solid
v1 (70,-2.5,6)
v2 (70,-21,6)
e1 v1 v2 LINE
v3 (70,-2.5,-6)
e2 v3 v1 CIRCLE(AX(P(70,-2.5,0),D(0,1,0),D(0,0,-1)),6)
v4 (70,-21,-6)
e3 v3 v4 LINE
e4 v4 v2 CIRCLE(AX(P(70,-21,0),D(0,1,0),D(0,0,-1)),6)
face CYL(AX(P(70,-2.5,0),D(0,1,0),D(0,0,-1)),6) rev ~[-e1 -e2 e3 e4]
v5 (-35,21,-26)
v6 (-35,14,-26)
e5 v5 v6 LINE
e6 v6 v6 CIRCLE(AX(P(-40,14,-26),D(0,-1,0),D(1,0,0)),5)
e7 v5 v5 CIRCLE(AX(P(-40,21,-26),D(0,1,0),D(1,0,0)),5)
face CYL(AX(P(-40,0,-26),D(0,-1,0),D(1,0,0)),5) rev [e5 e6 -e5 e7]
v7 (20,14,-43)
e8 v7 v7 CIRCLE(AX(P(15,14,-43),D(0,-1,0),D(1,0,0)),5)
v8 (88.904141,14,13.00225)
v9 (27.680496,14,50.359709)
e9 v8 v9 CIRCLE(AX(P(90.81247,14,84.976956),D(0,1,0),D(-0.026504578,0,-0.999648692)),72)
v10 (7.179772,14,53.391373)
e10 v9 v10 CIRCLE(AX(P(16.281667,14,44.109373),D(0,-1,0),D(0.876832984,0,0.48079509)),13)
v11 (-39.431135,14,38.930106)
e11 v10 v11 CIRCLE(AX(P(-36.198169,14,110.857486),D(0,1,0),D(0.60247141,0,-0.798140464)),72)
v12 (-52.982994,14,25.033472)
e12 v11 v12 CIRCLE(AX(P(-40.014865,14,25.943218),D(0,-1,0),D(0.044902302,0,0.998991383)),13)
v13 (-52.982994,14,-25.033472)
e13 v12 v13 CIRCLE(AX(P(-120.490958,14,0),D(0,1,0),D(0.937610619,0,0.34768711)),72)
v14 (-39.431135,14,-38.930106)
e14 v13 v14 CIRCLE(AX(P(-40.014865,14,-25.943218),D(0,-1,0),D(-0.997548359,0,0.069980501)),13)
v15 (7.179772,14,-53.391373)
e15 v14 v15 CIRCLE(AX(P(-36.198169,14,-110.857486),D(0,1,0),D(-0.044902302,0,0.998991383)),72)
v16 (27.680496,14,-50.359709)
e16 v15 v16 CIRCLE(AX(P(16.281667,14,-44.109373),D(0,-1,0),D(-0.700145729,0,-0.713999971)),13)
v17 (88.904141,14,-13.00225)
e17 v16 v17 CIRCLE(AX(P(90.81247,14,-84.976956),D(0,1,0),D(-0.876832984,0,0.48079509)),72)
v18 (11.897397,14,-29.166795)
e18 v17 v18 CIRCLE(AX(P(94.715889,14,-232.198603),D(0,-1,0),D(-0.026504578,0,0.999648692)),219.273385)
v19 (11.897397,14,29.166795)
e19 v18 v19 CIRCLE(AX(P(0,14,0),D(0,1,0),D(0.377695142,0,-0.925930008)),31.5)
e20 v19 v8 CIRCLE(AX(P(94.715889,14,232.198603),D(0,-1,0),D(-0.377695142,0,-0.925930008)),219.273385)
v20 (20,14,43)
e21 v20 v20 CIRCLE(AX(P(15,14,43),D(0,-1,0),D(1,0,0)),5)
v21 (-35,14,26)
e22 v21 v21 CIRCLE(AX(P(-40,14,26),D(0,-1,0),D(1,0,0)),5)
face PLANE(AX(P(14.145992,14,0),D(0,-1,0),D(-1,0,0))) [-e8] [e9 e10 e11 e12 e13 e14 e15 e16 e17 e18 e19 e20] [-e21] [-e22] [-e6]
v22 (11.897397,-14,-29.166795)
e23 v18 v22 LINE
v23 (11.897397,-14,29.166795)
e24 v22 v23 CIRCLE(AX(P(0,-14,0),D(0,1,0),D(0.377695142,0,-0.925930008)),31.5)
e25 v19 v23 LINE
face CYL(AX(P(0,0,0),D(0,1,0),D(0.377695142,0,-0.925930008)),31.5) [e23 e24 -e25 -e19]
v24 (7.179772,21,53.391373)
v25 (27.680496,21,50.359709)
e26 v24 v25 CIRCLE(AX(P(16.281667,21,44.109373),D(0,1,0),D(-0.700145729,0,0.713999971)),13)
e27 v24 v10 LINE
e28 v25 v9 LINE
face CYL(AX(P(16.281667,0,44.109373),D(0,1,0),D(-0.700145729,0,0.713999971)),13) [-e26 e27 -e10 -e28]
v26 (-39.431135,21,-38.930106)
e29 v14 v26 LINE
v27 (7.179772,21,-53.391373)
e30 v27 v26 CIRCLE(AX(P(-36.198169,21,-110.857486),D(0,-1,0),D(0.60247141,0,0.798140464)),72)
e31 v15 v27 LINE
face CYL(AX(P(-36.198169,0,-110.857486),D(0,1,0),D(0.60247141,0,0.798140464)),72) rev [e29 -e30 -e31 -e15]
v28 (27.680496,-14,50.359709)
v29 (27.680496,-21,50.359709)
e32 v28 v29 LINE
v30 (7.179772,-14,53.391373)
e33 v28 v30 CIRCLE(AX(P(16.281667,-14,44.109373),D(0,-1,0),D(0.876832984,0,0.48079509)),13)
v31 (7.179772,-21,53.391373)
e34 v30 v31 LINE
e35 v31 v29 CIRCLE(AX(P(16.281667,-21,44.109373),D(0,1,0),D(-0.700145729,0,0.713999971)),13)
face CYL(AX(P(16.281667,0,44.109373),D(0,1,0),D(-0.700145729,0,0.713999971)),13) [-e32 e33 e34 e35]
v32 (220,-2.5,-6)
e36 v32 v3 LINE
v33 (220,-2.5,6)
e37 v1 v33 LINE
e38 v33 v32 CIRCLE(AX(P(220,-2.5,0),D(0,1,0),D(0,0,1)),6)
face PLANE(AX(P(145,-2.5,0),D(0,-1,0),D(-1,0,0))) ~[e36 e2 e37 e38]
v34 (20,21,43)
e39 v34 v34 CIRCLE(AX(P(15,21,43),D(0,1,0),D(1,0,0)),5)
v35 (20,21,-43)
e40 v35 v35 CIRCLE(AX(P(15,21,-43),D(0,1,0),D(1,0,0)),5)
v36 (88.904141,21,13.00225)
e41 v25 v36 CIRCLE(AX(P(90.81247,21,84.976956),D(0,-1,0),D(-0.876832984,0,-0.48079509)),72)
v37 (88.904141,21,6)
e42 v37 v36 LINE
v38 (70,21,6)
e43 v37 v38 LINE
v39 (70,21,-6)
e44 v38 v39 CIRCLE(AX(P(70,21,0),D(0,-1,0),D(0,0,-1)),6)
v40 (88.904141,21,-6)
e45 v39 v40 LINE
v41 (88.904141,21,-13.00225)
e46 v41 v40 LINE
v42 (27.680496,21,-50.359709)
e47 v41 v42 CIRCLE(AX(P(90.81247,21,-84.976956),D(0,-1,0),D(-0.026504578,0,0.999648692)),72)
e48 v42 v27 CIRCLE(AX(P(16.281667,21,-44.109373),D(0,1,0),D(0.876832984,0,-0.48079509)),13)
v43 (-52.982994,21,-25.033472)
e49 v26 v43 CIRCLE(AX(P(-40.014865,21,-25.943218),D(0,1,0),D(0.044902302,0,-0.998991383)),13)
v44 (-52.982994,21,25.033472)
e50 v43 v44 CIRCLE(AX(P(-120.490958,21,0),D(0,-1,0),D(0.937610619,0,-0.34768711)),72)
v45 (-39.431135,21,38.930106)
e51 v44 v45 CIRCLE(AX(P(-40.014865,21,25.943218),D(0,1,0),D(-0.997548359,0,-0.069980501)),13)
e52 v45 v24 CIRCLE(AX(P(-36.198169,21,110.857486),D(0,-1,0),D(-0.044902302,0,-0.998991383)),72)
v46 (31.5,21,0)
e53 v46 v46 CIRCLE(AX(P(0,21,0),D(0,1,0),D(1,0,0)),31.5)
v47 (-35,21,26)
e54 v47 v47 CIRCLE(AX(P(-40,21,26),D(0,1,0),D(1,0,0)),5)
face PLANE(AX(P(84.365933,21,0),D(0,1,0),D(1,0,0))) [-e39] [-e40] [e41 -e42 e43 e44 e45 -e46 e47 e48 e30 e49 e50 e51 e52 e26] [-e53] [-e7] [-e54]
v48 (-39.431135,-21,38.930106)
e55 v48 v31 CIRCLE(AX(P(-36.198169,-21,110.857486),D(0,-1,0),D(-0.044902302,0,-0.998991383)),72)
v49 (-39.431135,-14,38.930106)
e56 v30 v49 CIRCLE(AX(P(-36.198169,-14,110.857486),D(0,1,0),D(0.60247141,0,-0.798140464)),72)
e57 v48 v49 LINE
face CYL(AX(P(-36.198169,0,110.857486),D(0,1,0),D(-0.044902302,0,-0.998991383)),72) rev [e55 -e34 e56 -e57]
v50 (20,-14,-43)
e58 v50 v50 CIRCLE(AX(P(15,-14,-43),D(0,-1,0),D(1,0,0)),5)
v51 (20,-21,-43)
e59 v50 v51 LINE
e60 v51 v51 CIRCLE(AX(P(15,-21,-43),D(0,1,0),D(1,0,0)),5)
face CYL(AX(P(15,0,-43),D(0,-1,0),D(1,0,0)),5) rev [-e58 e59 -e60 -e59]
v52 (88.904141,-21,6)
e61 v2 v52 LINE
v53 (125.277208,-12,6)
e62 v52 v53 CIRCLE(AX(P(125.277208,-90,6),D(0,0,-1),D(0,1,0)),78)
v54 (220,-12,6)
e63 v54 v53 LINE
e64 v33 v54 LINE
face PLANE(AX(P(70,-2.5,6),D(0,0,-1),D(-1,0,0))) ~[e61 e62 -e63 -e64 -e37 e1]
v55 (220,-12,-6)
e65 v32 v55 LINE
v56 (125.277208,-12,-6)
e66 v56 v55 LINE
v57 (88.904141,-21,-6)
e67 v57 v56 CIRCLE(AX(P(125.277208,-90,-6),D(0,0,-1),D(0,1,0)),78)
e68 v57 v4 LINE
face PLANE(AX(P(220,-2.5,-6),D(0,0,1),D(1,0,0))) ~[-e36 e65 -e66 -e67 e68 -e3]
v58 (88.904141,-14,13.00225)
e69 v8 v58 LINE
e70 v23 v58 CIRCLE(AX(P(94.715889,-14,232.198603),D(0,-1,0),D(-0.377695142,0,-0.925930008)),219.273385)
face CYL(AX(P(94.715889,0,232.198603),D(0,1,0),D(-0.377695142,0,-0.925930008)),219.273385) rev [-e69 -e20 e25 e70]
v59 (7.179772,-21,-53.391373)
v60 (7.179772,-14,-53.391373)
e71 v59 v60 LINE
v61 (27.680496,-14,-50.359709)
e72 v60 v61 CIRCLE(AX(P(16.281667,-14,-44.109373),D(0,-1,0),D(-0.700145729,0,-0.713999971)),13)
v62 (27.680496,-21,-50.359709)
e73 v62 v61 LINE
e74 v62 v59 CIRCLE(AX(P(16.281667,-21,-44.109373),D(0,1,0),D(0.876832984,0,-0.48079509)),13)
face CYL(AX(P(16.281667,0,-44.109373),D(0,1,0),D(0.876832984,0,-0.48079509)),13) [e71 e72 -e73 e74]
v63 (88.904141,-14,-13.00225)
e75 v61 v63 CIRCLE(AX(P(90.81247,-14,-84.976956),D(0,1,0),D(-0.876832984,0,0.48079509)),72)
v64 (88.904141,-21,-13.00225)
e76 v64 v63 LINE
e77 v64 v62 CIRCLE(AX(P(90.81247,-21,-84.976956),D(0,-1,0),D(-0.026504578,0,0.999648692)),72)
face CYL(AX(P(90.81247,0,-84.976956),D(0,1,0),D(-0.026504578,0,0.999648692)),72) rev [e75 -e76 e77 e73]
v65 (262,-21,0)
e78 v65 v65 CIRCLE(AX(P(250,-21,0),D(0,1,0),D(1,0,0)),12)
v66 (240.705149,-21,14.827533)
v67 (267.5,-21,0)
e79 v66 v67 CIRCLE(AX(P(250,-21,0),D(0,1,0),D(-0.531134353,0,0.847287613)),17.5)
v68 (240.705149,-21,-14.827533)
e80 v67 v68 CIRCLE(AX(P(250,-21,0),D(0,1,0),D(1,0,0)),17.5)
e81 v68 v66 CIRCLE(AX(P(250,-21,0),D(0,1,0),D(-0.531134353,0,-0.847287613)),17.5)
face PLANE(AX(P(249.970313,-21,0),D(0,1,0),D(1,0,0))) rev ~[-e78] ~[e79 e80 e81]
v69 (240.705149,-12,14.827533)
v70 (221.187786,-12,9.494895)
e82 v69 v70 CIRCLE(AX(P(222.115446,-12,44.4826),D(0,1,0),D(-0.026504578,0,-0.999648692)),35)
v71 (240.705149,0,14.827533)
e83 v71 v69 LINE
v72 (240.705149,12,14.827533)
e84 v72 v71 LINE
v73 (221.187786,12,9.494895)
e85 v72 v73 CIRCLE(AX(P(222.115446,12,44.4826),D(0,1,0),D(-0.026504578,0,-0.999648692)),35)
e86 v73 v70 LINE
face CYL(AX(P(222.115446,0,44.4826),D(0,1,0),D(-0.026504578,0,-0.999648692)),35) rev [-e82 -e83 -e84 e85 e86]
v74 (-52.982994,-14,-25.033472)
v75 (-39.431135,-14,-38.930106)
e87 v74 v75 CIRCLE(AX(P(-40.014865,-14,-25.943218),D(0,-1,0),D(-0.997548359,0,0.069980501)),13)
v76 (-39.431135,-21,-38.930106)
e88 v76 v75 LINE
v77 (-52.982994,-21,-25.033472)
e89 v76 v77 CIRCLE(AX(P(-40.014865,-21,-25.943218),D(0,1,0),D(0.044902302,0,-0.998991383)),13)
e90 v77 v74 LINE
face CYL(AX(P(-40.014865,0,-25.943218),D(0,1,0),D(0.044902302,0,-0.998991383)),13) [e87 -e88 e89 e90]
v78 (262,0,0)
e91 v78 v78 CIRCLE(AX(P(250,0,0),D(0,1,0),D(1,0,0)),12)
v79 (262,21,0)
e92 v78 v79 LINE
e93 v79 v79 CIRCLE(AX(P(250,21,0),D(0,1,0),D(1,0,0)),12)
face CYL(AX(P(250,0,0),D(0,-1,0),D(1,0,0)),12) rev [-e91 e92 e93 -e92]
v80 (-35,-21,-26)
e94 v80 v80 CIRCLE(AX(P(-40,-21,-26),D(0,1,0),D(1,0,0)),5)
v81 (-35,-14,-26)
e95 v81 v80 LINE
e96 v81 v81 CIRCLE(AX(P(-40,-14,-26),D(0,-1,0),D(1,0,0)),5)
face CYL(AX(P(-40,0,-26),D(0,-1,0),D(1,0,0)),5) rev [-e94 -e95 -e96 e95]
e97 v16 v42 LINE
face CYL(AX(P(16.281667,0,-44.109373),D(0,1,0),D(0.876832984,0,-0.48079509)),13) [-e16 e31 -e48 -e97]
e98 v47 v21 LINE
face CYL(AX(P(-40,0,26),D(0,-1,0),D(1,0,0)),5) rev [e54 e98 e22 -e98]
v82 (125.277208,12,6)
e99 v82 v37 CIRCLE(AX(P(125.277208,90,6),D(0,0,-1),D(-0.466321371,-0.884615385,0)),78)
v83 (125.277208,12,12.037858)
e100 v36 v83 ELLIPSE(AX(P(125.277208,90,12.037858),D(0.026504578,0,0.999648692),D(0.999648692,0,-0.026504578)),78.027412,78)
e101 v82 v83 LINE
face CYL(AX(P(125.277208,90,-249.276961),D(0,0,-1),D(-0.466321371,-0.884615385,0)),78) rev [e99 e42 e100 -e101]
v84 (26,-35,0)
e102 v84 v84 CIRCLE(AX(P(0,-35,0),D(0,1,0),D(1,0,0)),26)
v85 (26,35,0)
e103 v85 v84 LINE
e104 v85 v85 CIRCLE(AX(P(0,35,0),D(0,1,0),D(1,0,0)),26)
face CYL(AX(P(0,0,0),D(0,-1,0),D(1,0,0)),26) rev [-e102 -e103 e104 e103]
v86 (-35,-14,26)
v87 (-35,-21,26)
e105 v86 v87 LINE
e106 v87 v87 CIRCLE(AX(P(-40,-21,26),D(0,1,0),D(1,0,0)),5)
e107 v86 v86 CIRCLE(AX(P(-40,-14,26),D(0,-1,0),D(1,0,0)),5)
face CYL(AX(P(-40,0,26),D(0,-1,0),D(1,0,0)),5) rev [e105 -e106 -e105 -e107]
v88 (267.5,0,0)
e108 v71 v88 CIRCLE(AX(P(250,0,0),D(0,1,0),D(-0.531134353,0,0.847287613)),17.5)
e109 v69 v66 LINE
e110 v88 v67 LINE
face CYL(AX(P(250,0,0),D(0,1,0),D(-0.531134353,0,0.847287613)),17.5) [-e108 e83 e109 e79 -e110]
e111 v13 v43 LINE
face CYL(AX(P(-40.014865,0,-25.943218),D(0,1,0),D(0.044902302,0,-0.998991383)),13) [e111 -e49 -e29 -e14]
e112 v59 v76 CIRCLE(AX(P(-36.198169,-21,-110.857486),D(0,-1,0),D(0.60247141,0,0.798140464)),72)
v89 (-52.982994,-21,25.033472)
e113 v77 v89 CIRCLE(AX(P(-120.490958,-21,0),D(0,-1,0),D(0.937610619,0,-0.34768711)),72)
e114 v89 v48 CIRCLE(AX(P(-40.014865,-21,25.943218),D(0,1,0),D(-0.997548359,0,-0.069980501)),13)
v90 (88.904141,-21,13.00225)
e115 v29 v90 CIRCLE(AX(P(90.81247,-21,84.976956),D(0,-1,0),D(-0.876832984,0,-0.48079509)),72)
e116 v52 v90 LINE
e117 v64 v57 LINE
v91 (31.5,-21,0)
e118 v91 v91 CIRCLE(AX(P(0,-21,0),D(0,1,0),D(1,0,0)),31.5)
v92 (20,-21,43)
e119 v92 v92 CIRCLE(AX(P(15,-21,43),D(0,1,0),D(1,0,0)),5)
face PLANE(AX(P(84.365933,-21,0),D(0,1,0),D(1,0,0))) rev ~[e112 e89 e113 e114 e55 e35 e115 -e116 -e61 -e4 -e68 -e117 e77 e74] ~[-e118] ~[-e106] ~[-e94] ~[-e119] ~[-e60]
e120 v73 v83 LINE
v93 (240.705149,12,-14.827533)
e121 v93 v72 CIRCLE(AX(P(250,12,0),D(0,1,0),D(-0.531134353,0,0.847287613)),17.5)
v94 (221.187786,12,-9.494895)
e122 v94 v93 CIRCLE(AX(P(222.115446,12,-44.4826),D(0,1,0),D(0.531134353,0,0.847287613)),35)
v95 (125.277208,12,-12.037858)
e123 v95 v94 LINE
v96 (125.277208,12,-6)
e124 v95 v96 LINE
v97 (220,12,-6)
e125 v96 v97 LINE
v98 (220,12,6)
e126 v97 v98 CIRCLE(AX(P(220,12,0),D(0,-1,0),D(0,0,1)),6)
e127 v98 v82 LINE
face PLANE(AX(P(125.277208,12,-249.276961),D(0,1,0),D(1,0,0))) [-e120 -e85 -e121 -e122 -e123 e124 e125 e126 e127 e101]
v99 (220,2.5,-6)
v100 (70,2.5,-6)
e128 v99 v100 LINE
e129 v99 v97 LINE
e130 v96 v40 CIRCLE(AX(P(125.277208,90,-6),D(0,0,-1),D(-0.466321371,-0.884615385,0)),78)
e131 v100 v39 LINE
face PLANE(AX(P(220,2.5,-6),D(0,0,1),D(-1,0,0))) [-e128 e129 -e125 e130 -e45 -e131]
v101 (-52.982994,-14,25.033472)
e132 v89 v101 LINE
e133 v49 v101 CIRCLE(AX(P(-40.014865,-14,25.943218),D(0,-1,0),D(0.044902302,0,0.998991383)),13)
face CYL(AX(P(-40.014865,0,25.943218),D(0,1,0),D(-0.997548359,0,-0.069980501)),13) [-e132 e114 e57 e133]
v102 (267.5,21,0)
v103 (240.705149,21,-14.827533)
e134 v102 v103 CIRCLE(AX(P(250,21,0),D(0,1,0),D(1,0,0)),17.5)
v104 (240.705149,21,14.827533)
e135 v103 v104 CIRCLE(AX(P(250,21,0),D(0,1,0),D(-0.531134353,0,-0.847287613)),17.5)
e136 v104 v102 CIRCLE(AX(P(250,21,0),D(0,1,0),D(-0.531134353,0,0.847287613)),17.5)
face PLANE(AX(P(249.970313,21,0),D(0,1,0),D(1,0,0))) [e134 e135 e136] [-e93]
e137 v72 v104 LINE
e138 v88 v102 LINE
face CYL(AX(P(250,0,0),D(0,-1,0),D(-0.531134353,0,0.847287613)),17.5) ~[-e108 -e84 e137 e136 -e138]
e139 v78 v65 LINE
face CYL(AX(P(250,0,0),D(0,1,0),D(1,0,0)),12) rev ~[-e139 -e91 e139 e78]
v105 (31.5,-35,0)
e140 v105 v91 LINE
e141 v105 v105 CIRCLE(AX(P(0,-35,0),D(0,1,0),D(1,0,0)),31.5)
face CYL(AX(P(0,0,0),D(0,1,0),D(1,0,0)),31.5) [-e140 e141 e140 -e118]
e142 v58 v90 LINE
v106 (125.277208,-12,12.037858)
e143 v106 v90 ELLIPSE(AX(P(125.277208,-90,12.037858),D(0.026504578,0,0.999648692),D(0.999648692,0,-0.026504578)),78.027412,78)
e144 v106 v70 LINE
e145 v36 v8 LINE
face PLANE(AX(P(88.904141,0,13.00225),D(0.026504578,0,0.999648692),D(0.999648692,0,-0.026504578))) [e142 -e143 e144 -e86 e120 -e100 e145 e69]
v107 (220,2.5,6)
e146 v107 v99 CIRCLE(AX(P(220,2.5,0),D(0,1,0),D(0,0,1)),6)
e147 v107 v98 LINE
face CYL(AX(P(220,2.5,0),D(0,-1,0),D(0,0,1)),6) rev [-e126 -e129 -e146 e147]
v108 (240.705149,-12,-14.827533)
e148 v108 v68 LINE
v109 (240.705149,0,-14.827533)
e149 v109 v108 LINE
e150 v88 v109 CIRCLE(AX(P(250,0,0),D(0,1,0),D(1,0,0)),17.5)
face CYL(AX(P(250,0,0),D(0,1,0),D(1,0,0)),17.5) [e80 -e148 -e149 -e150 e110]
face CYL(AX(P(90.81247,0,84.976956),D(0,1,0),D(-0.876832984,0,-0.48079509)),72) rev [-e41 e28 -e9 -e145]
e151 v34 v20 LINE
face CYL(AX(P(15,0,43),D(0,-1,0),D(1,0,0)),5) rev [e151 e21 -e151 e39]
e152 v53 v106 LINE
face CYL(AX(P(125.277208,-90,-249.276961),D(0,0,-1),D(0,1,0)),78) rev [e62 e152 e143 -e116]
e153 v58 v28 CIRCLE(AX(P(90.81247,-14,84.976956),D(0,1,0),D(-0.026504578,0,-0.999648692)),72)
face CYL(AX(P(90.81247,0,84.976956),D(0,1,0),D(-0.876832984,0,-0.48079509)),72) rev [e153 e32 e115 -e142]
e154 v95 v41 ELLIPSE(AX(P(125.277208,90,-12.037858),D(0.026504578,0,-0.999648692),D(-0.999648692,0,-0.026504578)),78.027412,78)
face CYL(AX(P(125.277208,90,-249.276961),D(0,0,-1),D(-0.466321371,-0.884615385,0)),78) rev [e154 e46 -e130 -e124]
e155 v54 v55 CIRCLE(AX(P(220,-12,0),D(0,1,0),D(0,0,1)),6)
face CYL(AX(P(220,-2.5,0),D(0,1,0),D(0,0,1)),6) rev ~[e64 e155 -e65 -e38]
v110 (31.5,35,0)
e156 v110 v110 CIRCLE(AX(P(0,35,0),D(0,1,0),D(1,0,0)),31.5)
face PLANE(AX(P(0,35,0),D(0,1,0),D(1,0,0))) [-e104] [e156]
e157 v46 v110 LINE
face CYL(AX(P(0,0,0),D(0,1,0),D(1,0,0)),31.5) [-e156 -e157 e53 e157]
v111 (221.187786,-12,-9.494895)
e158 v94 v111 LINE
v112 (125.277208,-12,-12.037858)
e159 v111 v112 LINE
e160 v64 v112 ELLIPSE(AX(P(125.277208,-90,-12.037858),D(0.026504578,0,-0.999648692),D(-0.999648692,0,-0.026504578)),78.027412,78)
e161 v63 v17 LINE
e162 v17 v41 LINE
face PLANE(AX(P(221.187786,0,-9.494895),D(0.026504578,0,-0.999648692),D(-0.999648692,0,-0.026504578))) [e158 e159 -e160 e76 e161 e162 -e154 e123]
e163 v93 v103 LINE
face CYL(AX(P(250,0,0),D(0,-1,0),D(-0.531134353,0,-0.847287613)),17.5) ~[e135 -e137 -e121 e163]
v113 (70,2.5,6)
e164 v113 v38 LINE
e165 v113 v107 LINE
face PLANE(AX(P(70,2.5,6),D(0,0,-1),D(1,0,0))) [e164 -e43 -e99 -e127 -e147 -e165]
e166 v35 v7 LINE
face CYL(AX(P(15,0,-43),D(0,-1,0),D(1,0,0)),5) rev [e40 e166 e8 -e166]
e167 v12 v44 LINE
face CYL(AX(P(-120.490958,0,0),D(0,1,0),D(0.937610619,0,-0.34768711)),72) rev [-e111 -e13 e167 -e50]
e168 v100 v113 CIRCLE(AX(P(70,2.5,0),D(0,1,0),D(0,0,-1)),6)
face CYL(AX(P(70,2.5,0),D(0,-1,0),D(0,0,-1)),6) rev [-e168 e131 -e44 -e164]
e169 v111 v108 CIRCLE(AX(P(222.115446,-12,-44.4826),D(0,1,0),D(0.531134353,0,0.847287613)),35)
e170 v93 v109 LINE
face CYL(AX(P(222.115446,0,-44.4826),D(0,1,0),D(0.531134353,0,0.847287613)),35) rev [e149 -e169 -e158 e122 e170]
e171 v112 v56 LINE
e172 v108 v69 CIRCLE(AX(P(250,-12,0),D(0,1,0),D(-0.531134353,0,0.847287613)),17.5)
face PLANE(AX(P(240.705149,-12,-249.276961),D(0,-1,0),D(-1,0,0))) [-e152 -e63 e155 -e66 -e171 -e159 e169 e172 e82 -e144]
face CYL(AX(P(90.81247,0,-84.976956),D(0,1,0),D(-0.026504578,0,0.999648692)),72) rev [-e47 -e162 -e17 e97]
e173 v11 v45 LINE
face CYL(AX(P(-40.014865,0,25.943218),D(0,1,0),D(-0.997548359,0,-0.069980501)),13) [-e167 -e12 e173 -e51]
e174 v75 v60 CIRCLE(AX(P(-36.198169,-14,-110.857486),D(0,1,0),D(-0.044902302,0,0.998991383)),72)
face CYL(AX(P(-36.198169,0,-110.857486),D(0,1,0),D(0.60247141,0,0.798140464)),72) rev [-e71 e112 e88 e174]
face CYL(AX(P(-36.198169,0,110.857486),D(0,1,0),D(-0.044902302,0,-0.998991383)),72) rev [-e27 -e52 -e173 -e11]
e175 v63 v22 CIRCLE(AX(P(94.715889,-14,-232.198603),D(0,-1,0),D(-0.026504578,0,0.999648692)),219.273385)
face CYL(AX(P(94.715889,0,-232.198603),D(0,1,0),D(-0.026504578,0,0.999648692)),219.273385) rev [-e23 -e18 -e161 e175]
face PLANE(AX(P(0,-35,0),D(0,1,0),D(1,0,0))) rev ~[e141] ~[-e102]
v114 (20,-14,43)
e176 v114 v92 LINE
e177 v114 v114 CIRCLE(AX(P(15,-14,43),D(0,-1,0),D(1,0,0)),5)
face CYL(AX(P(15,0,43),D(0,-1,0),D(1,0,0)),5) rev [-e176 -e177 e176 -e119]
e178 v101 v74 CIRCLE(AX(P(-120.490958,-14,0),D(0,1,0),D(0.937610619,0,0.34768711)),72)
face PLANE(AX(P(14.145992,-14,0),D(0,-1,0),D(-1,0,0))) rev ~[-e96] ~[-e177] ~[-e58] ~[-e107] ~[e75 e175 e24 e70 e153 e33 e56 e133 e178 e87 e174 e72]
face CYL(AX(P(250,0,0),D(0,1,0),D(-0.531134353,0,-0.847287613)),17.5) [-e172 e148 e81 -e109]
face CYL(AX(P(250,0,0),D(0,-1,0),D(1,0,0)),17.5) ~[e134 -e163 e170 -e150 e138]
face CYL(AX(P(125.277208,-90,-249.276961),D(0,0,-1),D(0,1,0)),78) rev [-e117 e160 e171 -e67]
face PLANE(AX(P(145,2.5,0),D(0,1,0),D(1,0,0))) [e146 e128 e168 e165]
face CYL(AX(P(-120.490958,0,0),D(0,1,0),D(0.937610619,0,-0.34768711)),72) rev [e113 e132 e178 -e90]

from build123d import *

# Parameters (mm, degrees)
SKETCH1_R               = 5
SKETCH1_R_2             = 31.5
BOSS_EXTRUDE1_DEPTH     = 21
CUT_EXTRUDE1_DEPTH      = 249.276960573
CUT_EXTRUDE1_DEPTH_BACK = 249.276960573
SKETCH1_3_R             = 12
BOSS_EXTRUDE2_DEPTH     = 21
SKETCH1_4_R             = 31.5
SKETCH1_4_R_2           = 26
BOSS_EXTRUDE3_DEPTH     = 35
CUT_EXTRUDE2_START      = 2.5
CUT_EXTRUDE2_DEPTH      = 70
CUT_EXTRUDE3_DEPTH      = 14


with BuildPart() as part:
    # Sketch1 → Boss-Extrude1 (new, symmetric)
    with BuildSketch(Plane(origin=(0, 0, 0), x_dir=(1, 0, 0), z_dir=(0, 1, 0))):
        with BuildLine():
            Line((221.187786225, 9.494895459), (88.904140781, 13.002249852))
            ThreePointArc((88.904140781, 13.002249852), (53.309733953, 23.515221578), (27.680495601, 50.35970916))
            ThreePointArc((27.680495601, 50.35970916), (18.1834351, 56.969515961), (7.179772337, 53.391372602))
            ThreePointArc((7.179772337, 53.391372602), (-14.863061383, 42.091119402), (-39.431134928, 38.930106423))
            ThreePointArc((-39.431134928, 38.930106423), (-49.321982863, 35.019426592), (-52.982993526, 25.033471929))
            ThreePointArc((-52.982993526, 25.033471929), (-48.490958117, 0), (-52.982993526, -25.033471929))
            ThreePointArc((-52.982993526, -25.033471929), (-49.321982863, -35.019426592), (-39.431134928, -38.930106423))
            ThreePointArc((-39.431134928, -38.930106423), (-14.863061383, -42.091119402), (7.179772337, -53.391372602))
            ThreePointArc((7.179772337, -53.391372602), (18.1834351, -56.969515961), (27.680495601, -50.35970916))
            ThreePointArc((27.680495601, -50.35970916), (53.309733953, -23.515221578), (88.904140781, -13.002249852))
            Line((88.904140781, -13.002249852), (221.187786225, -9.494895459))
            ThreePointArc((221.187786225, -9.494895459), (231.340206045, -10.720138116), (240.705148821, -14.827533226))
            ThreePointArc((240.705148821, -14.827533226), (232.5, 0), (240.705148821, 14.827533226))
            ThreePointArc((240.705148821, 14.827533226), (231.340206045, 10.720138116), (221.187786225, 9.494895459))
        make_face()
        with Locations((15, -43)):
            Circle(SKETCH1_R, mode=Mode.SUBTRACT)
        with Locations((-40, -26)):
            Circle(SKETCH1_R, mode=Mode.SUBTRACT)
        Circle(SKETCH1_R_2, mode=Mode.SUBTRACT)
        with Locations((-40, 26)):
            Circle(SKETCH1_R, mode=Mode.SUBTRACT)
        with Locations((15, 43)):
            Circle(SKETCH1_R, mode=Mode.SUBTRACT)
    extrude(amount=BOSS_EXTRUDE1_DEPTH, both=True)

    # Sketch2 → Cut-Extrude1 (cut, two sides: drawn at the far end of the back side and taken through both)
    with BuildSketch(Plane.XY.offset(-CUT_EXTRUDE1_DEPTH_BACK)):
        with BuildLine():
            Line((240.705148821, 21), (221.187786225, 21))
            Line((221.187786225, 21), (88.904140781, 21))
            ThreePointArc((88.904140781, 21), (106.542213745, 14.283423215), (125.27720774, 12))
            Line((125.27720774, 12), (240.705148821, 12))
            Line((240.705148821, 12), (240.705148821, 21))
        make_face()
        with BuildLine():
            Line((240.705148821, -12), (125.27720774, -12))
            ThreePointArc((125.27720774, -12), (106.542213745, -14.283423215), (88.904140781, -21))
            Line((88.904140781, -21), (221.187786225, -21))
            Line((221.187786225, -21), (240.705148821, -21))
            Line((240.705148821, -21), (240.705148821, -12))
        make_face()
    extrude(amount=CUT_EXTRUDE1_DEPTH + CUT_EXTRUDE1_DEPTH_BACK, mode=Mode.SUBTRACT)

    # Sketch1<3> → Boss-Extrude2 (add, symmetric)
    with BuildSketch(Plane(origin=(0, 0, 0), x_dir=(1, 0, 0), z_dir=(0, 1, 0))):
        with BuildLine():
            ThreePointArc((267.5, 0), (258.473196102, 15.311921754), (240.705148821, 14.827533226))
            ThreePointArc((240.705148821, 14.827533226), (232.5, 0), (240.705148821, -14.827533226))
            ThreePointArc((240.705148821, -14.827533226), (258.473196102, -15.311921754), (267.5, 0))
        make_face()
        with Locations((250, 0)):
            Circle(SKETCH1_3_R, mode=Mode.SUBTRACT)
    extrude(amount=BOSS_EXTRUDE2_DEPTH, both=True)

    # Sketch1<4> → Boss-Extrude3 (add, symmetric)
    with BuildSketch(Plane(origin=(0, 0, 0), x_dir=(1, 0, 0), z_dir=(0, 1, 0))):
        Circle(SKETCH1_4_R)
        Circle(SKETCH1_4_R_2, mode=Mode.SUBTRACT)
    extrude(amount=BOSS_EXTRUDE3_DEPTH, both=True)

    # Sketch1<5> → Cut-Extrude2 (cut)
    with BuildSketch(Plane(origin=(0, 0, 0), x_dir=(1, 0, 0), z_dir=(0, 1, 0)).offset(CUT_EXTRUDE2_START)):
        with BuildLine():
            Line((220, 6), (70, 6))
            ThreePointArc((70, 6), (64, 0), (70, -6))
            Line((70, -6), (220, -6))
            ThreePointArc((220, -6), (226, 0), (220, 6))
        make_face()
    cut_extrude2 = extrude(amount=CUT_EXTRUDE2_DEPTH, mode=Mode.SUBTRACT)

    # Mirror1: Cut-Extrude2 across plane
    add(cut_extrude2.mirror(Plane.ZX), mode=Mode.SUBTRACT)

    # Sketch5 → Cut-Extrude3 (cut, symmetric)
    with BuildSketch(Plane(origin=(0, 0, 0), x_dir=(1, 0, 0), z_dir=(0, 1, 0))):
        with BuildLine():
            ThreePointArc((88.904140781, 13.002249852), (49.66976816, 17.602087151), (11.897396977, 29.16679525))
            ThreePointArc((11.897396977, 29.16679525), (-31.5, 0), (11.897396977, -29.16679525))
            ThreePointArc((11.897396977, -29.16679525), (49.66976816, -17.602087151), (88.904140781, -13.002249852))
            ThreePointArc((88.904140781, -13.002249852), (53.309733953, -23.515221578), (27.680495601, -50.35970916))
            ThreePointArc((27.680495601, -50.35970916), (18.1834351, -56.969515961), (7.179772337, -53.391372602))
            ThreePointArc((7.179772337, -53.391372602), (-14.863061383, -42.091119402), (-39.431134928, -38.930106423))
            ThreePointArc((-39.431134928, -38.930106423), (-49.321982863, -35.019426592), (-52.982993526, -25.033471929))
            ThreePointArc((-52.982993526, -25.033471929), (-48.490958117, 0), (-52.982993526, 25.033471929))
            ThreePointArc((-52.982993526, 25.033471929), (-49.321982863, 35.019426592), (-39.431134928, 38.930106423))
            ThreePointArc((-39.431134928, 38.930106423), (-14.863061383, 42.091119402), (7.179772337, 53.391372602))
            ThreePointArc((7.179772337, 53.391372602), (18.1834351, 56.969515961), (27.680495601, 50.35970916))
            ThreePointArc((27.680495601, 50.35970916), (53.309733953, 23.515221578), (88.904140781, 13.002249852))
        make_face()
    extrude(amount=CUT_EXTRUDE3_DEPTH, both=True, mode=Mode.SUBTRACT)


solid = part.part
